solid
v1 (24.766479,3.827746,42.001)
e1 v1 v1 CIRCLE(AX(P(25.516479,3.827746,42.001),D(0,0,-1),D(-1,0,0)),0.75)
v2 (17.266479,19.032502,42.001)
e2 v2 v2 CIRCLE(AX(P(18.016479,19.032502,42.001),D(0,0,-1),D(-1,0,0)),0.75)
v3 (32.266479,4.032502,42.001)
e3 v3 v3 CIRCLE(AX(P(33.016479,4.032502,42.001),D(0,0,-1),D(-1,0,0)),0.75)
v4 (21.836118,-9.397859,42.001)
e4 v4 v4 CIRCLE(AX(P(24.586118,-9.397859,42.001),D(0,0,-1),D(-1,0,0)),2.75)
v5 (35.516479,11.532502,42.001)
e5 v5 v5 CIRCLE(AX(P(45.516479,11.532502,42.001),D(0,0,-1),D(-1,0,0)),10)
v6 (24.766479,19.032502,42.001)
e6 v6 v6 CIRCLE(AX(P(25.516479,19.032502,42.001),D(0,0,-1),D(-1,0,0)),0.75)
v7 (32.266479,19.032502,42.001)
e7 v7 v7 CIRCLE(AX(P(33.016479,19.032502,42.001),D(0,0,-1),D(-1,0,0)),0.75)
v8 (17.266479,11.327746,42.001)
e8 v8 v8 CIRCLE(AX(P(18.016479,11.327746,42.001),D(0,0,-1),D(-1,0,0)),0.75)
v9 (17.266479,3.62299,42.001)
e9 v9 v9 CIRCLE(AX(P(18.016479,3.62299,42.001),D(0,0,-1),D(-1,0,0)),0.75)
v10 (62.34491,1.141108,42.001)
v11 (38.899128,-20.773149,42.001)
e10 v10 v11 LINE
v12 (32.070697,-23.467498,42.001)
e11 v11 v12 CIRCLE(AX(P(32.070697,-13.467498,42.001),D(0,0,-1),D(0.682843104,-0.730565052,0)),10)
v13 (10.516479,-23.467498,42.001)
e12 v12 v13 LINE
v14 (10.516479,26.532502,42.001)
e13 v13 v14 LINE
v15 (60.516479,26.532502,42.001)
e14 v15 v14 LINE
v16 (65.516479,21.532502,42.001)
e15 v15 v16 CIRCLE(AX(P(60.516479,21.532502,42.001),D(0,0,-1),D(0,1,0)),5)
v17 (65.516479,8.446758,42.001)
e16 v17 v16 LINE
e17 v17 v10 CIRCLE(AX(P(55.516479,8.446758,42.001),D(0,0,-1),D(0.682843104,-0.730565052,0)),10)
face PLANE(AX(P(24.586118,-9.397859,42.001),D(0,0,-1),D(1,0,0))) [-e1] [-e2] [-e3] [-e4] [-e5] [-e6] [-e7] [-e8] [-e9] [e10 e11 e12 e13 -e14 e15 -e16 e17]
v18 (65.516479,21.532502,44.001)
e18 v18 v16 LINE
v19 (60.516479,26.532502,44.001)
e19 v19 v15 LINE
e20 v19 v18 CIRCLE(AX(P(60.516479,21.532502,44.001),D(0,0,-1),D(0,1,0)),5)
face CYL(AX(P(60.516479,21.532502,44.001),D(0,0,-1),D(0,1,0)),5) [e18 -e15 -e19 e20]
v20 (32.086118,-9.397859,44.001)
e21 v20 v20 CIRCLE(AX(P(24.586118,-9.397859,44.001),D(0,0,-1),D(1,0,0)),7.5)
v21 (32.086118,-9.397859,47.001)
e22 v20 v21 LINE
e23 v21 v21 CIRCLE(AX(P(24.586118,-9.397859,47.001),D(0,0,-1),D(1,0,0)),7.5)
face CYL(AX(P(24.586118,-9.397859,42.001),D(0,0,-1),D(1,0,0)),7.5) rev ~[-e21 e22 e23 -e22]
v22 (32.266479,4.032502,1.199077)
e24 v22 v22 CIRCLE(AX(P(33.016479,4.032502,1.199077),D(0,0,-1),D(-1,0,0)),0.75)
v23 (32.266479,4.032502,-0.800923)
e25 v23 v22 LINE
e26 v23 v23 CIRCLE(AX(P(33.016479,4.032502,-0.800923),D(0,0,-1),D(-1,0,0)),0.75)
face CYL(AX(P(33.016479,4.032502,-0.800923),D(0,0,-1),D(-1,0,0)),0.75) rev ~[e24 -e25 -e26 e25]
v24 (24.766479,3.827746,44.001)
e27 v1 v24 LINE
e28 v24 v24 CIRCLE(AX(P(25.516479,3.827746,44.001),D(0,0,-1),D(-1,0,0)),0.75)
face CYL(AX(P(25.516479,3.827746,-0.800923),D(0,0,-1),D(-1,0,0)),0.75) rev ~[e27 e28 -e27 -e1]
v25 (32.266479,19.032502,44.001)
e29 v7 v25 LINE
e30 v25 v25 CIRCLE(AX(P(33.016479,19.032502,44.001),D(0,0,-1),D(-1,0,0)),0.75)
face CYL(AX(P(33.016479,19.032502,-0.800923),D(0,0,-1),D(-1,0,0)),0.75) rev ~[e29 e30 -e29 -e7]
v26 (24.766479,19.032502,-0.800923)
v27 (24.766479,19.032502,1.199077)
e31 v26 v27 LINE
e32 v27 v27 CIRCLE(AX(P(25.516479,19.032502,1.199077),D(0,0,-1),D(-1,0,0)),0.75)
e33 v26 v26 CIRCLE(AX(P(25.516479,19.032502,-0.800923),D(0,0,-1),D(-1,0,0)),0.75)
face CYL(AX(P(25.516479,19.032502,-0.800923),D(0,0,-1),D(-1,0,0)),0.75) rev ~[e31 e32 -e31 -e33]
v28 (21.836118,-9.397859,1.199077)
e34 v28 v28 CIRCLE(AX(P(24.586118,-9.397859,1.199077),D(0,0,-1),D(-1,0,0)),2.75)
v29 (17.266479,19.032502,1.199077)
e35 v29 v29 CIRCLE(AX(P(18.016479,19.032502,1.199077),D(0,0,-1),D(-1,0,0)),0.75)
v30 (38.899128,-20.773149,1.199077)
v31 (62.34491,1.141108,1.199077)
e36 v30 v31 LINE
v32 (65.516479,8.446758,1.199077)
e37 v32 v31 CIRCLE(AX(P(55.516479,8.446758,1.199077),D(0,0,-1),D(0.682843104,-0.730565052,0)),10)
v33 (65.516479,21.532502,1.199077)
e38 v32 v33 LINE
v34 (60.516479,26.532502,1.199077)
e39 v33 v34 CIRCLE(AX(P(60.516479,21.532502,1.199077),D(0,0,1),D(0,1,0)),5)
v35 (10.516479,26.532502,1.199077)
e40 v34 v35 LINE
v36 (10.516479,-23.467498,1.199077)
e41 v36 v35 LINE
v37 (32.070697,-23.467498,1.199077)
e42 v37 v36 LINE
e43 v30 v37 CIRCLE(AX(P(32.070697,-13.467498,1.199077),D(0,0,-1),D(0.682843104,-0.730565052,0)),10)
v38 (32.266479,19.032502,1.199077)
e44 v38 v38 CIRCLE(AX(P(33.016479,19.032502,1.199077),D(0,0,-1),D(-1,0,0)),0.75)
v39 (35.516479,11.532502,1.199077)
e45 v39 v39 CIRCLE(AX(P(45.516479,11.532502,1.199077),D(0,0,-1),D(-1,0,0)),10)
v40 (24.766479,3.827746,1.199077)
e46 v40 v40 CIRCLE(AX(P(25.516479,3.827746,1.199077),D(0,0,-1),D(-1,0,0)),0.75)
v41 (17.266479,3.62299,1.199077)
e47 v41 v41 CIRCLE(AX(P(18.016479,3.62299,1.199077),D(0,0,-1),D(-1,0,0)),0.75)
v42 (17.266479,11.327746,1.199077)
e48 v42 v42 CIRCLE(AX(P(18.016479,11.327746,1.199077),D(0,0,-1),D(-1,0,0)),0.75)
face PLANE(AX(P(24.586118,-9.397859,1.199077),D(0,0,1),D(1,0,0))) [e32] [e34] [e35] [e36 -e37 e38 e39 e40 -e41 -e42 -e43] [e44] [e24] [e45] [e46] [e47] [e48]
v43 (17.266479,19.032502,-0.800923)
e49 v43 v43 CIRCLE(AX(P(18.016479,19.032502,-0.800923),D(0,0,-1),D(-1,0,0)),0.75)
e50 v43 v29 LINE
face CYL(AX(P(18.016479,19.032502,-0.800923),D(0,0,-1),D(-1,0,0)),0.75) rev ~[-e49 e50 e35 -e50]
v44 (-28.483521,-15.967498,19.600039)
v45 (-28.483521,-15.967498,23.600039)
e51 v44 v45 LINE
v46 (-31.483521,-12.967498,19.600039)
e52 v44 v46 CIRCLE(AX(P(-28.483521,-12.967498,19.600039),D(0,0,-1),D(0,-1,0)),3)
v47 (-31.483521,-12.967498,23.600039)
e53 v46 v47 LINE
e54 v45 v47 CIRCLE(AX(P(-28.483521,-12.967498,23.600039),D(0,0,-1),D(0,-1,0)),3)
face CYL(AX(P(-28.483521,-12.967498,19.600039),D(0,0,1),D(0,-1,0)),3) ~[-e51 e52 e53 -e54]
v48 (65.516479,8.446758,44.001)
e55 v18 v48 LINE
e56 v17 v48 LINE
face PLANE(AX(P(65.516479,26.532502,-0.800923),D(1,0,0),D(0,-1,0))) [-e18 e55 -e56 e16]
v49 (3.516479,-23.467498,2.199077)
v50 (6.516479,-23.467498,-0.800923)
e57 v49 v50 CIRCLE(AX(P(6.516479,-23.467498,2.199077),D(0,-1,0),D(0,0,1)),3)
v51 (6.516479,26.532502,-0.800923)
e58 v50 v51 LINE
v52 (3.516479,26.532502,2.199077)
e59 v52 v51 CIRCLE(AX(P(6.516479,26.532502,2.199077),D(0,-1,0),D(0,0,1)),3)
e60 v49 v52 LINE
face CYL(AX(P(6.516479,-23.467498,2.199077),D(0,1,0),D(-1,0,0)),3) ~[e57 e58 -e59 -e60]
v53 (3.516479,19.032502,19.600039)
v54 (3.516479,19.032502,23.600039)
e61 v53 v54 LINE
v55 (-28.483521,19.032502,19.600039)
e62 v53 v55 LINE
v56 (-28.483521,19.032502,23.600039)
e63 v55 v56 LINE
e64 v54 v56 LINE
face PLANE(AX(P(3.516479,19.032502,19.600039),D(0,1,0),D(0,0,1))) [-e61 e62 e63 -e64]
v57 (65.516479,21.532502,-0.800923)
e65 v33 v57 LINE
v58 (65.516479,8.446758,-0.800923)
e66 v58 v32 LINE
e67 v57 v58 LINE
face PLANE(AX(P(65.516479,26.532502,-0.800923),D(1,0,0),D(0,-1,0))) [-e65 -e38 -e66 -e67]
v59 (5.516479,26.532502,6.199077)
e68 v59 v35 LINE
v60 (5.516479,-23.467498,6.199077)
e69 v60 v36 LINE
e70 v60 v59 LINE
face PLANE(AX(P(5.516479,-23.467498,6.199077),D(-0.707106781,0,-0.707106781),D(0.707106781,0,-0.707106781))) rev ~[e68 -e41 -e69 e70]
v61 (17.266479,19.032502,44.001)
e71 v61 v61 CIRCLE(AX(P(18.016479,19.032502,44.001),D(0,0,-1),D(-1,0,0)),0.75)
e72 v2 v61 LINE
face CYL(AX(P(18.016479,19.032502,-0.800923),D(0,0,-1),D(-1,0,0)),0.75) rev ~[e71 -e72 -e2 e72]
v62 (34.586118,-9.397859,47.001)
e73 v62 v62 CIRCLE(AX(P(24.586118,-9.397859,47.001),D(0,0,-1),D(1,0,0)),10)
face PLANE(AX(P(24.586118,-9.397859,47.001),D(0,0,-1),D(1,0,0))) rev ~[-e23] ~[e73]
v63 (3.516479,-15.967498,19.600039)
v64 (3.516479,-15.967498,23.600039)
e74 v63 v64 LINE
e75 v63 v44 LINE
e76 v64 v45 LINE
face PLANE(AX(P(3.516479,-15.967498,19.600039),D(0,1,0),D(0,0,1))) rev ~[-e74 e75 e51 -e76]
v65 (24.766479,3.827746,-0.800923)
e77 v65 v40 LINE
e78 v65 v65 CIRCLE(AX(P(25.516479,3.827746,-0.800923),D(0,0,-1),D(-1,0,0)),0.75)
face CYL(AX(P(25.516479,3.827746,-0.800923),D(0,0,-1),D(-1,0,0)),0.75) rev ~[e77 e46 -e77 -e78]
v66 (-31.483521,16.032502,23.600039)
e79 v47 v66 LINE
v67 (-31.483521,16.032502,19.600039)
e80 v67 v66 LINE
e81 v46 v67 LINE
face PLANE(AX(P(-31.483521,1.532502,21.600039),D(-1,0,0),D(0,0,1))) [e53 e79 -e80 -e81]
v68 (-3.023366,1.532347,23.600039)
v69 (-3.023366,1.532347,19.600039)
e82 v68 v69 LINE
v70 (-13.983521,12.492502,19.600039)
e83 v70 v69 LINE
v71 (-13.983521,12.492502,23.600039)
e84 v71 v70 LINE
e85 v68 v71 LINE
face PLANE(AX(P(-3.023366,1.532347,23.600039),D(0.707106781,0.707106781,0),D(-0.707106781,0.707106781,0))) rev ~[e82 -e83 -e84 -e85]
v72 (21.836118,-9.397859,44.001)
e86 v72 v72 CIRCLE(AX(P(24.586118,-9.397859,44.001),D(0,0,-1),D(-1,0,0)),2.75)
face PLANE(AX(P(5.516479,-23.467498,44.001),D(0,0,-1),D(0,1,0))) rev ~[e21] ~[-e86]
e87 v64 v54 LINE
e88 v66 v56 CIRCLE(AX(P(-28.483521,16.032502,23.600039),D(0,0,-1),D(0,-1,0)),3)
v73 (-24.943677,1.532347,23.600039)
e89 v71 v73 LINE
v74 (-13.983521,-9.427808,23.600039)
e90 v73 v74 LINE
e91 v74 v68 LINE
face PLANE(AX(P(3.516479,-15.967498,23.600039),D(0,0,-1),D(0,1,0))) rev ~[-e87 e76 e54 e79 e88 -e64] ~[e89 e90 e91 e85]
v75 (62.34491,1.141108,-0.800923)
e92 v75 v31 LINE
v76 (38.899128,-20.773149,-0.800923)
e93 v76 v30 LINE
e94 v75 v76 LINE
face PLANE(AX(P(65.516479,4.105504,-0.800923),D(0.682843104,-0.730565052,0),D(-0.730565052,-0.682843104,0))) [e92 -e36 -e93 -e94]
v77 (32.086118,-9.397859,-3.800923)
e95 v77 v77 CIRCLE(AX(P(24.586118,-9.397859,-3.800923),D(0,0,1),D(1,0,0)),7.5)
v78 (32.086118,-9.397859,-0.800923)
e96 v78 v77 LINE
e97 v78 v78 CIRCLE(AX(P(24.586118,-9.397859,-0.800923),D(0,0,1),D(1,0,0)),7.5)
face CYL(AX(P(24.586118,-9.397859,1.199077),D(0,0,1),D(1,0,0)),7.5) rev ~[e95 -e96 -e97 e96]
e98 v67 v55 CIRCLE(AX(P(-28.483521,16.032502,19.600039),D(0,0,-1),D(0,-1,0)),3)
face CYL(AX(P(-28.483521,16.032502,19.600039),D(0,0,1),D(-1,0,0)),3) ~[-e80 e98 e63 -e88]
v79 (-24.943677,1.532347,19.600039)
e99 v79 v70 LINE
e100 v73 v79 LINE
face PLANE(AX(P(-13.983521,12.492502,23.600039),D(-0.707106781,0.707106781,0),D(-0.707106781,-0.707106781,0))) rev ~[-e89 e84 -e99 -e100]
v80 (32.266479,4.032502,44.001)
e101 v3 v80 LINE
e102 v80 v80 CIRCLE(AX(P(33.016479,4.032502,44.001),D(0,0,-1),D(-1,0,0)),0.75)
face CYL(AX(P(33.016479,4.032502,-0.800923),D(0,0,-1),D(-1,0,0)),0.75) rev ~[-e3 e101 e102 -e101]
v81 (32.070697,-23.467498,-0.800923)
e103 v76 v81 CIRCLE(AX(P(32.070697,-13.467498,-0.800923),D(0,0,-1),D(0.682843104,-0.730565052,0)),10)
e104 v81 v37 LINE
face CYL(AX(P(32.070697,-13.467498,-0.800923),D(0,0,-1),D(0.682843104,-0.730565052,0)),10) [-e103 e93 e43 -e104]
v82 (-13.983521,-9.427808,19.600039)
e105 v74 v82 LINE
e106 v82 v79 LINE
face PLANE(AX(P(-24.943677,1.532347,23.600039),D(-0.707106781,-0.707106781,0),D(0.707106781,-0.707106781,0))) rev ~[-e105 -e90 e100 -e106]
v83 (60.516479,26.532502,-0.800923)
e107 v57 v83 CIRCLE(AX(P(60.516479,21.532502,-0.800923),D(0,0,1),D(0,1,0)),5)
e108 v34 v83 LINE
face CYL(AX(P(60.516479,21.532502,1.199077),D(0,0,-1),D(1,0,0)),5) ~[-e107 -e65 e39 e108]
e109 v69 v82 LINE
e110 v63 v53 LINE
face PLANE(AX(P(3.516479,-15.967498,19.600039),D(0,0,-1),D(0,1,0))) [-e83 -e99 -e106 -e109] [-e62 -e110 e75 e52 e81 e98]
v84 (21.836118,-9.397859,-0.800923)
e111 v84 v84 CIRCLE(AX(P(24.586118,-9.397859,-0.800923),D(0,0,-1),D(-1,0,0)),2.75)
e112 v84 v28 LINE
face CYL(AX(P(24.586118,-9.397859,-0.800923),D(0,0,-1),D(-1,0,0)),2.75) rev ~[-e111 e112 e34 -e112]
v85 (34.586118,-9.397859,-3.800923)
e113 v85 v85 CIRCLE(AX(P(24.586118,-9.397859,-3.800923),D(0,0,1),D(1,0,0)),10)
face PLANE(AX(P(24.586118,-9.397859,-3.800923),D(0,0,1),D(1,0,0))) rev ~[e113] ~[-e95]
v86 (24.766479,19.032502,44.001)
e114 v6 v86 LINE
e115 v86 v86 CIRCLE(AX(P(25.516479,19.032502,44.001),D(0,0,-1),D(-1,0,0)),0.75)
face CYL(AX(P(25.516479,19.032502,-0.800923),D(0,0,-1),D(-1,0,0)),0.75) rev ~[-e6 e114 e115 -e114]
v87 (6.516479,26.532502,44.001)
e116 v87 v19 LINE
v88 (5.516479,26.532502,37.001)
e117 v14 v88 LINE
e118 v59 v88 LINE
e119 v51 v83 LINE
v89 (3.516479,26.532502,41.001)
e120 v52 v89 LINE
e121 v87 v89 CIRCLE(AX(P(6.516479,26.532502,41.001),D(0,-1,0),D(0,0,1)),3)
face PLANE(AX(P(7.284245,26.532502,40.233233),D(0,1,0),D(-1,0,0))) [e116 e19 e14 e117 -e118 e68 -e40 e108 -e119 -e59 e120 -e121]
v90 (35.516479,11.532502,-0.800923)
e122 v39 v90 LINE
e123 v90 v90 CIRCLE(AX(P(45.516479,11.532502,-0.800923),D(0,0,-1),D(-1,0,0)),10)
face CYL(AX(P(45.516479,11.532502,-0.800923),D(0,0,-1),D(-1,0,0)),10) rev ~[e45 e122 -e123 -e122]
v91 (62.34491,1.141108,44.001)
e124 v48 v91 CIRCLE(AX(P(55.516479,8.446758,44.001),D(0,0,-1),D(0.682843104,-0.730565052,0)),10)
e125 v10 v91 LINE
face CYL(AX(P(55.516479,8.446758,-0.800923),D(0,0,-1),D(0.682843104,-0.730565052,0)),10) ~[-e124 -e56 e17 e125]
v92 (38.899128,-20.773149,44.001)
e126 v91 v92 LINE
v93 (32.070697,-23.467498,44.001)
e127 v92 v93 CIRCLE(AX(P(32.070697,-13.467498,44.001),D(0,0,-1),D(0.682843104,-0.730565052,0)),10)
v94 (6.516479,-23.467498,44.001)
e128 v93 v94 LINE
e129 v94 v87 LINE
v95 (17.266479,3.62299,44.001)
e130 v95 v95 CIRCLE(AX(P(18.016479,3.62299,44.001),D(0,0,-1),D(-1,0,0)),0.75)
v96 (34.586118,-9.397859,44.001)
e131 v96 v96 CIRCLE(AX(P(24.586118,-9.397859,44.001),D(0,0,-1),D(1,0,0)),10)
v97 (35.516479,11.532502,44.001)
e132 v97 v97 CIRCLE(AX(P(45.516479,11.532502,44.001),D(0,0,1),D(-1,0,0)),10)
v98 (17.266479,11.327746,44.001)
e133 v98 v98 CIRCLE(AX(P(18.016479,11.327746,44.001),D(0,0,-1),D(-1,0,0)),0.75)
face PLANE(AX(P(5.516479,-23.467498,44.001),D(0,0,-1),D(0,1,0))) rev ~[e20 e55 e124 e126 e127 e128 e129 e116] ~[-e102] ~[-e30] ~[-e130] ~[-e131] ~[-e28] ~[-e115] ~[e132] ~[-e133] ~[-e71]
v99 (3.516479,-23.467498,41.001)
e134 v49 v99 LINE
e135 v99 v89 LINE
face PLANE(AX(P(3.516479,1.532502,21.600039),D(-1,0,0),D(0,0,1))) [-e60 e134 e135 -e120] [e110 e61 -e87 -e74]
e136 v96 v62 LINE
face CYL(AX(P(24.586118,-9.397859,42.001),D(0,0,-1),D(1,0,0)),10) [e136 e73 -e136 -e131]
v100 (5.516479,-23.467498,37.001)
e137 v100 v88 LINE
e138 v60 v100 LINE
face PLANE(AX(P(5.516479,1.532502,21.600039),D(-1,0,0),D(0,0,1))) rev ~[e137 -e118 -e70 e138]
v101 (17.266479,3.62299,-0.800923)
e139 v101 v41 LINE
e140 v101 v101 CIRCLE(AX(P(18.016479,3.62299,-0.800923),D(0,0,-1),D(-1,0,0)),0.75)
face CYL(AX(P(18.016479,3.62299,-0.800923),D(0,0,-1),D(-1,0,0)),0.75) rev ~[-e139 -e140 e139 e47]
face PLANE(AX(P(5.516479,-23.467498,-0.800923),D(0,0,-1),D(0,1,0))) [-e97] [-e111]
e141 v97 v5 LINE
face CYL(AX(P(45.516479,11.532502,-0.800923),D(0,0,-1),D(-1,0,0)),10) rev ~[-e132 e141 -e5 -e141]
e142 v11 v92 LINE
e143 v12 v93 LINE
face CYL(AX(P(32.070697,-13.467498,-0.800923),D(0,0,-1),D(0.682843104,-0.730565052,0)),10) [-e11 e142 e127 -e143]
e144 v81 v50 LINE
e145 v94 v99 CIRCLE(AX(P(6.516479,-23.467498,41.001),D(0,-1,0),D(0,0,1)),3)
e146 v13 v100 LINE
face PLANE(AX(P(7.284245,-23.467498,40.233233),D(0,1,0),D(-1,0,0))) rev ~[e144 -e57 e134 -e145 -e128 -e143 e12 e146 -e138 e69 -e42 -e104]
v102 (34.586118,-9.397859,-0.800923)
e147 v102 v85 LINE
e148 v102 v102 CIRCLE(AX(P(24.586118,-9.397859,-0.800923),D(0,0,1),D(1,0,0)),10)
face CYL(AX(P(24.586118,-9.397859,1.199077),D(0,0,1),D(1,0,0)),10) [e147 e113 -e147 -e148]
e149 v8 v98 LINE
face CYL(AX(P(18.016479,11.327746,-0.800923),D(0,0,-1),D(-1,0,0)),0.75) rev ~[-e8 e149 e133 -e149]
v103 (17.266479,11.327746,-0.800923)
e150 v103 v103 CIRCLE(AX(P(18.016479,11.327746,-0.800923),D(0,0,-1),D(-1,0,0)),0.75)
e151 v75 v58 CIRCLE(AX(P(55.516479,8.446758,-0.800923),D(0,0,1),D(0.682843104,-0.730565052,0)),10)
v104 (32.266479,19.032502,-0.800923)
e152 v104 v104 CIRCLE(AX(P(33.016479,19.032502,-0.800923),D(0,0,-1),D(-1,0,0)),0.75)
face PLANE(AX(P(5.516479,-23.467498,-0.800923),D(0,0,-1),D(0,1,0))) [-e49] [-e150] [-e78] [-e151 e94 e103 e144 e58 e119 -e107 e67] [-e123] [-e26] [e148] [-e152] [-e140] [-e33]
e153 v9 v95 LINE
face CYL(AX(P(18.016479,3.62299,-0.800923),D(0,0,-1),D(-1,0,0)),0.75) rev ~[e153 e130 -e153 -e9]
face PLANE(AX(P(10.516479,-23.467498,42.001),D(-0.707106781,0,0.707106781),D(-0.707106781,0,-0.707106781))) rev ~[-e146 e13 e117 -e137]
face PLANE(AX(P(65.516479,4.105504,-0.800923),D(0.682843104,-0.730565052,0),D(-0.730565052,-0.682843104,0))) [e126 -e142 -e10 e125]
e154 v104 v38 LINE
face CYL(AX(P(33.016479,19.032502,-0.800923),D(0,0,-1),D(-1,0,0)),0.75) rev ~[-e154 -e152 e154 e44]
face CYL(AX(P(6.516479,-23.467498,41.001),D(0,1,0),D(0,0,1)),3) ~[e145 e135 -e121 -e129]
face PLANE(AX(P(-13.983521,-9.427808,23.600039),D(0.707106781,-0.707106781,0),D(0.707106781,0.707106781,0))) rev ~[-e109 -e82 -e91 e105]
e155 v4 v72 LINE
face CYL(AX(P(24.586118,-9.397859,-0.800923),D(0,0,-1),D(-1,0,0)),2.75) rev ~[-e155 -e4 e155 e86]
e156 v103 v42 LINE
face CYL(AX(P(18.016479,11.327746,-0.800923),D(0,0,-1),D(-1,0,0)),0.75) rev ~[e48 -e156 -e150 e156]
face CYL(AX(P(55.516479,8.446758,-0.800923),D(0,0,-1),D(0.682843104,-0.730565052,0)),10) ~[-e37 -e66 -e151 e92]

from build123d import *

# Parameters (mm, degrees)
SKETCH_3_R               = 3
EXTRUDE_6_DEPTH          = 0.001
EXTRUDE_6_2_DEPTH        = 0.001
EXTRUDE_6_3_DEPTH        = 0.001
EXTRUDE_6_4_DEPTH        = 0.001
CUT_EXTRUDE_2_DEPTH      = 67.213034483
CUT_EXTRUDE_2_DEPTH_BACK = 67.213034483
SKETCH_11_R              = 2.25
EXTRUDE_7_DEPTH          = 2
EXTRUDE_7_DEPTH_BACK     = 0.801922547
SKETCH_14_R              = 10
CUT_EXTRUDE_3_DEPTH      = 3
SKETCH_12_4_R            = 10
EXTRUDE_10_DEPTH         = 44
SKETCH_20_W              = 40.801922547
SKETCH_20_H              = 50
CUT_EXTRUDE_6_DEPTH      = 60
SKETCH_21_W              = 44.801922547
SKETCH_21_H              = 50
EXTRUDE_11_DEPTH         = 2
SKETCH_23_W              = 4
SKETCH_23_H              = 35
EXTRUDE_12_DEPTH         = 35
CUT_EXTRUDE_7_DEPTH      = 75.778269065
SKETCH_25_R              = 0.75
CUT_EXTRUDE_8_DEPTH      = 84.687483396
FILLET_2_R               = 5
FILLET_3_R               = 5
FILLET_5_R               = 3
FILLET_6_R               = 3
FILLET_7_R               = 3
FILLET_8_R               = 3
SKETCH_26_R              = 2.75
CUT_EXTRUDE_9_DEPTH      = 100
SKETCH_27_R              = 10
SKETCH_27_R_2            = 7.5
EXTRUDE_13_DEPTH         = 5
SKETCH_28_R              = 10
SKETCH_28_R_2            = 7.5
EXTRUDE_14_DEPTH         = 5
CUT_EXTRUDE_10_DEPTH     = 86.331157337
CUT_EXTRUDE_11_DEPTH     = 86.331157337
CUT_EXTRUDE_12_DEPTH     = 86.331157337
EXTRUDE_15_DEPTH         = 50


with BuildPart() as part:
    # 草图3 → 凸台-拉伸6 (new body)
    with BuildSketch(Plane.XY):
        with Locations((60.266478541, 16.532501821)):
            Circle(SKETCH_3_R)
    extrude(amount=EXTRUDE_6_DEPTH)


with BuildPart() as body_2:
    # 草图3 → Extrude 6 2 (new body)
    with BuildSketch(Plane.XY):
        with Locations((60.266478541, 6.532501821)):
            Circle(SKETCH_3_R)
    extrude(amount=EXTRUDE_6_2_DEPTH)


with BuildPart() as body_3:
    # 草图3 → Extrude 6 3 (new body)
    with BuildSketch(Plane.XY):
        with Locations((10.766478541, 6.532501821)):
            Circle(SKETCH_3_R)
    extrude(amount=EXTRUDE_6_3_DEPTH)


with BuildPart() as body_4:
    # 草图3 → Extrude 6 4 (new body)
    with BuildSketch(Plane.XY):
        with Locations((10.766478541, 16.532501821)):
            Circle(SKETCH_3_R)
    extrude(amount=EXTRUDE_6_4_DEPTH)


with BuildPart() as cut_extrude_2_tool:
    # 草图11 → 切除-拉伸2 (new, two sides: drawn at the far end of the back side and taken through both)
    with BuildSketch(Plane.XY.offset(0.001).offset(-CUT_EXTRUDE_2_DEPTH_BACK)):
        with Locations((10.766478541, 16.532501821)):
            Circle(SKETCH_11_R)
        with Locations((10.766478541, 6.532501821)):
            Circle(SKETCH_11_R)
        with Locations((60.266478541, 16.532501821)):
            Circle(SKETCH_11_R)
        with Locations((60.266478541, 6.532501821)):
            Circle(SKETCH_11_R)
    extrude(amount=CUT_EXTRUDE_2_DEPTH + CUT_EXTRUDE_2_DEPTH_BACK)


with BuildPart() as part_1:
    add(part.part)

    # 切除-拉伸2: cut by cut_extrude_2_tool
    add(cut_extrude_2_tool.part, mode=Mode.SUBTRACT)



with BuildPart() as body_2_1:
    add(body_2.part)

    # 切除-拉伸2: cut by cut_extrude_2_tool
    add(cut_extrude_2_tool.part, mode=Mode.SUBTRACT)


with BuildPart() as body_3_1:
    add(body_3.part)

    # 切除-拉伸2: cut by cut_extrude_2_tool
    add(cut_extrude_2_tool.part, mode=Mode.SUBTRACT)


with BuildPart() as body_4_1:
    add(body_4.part)

    # 切除-拉伸2: cut by cut_extrude_2_tool
    add(cut_extrude_2_tool.part, mode=Mode.SUBTRACT)


with BuildPart() as body_5:
    # 草图12 → 凸台-拉伸7 (new, two sides: drawn at the far end of the back side and taken through both)
    with BuildSketch(Plane.XY.offset(0.001).offset(-EXTRUDE_7_DEPTH_BACK)):
        Polygon((5.516478541, 26.532501821), (65.516478541, 26.532501821), (65.516478541, -23.467498179), (5.516478541, -23.467498179), (5.516478541, 1.532501821), align=None)
    extrude(amount=EXTRUDE_7_DEPTH + EXTRUDE_7_DEPTH_BACK)

    # 草图14 → 切除-拉伸3 (cut)
    with BuildSketch(Plane(origin=(0, 0, -0.800922547), x_dir=(-1, 0, 0), z_dir=(0, 0, -1))):
        with Locations((-45.516478541, 11.532501821)):
            Circle(SKETCH_14_R)
    extrude(amount=-CUT_EXTRUDE_3_DEPTH, mode=Mode.SUBTRACT)


with BuildPart() as part_2:
    add(part_1.part)

    add(body_2_1.part)  # 凸台-拉伸10 merges body 2

    add(body_3_1.part)  # 凸台-拉伸10 merges body 3

    add(body_4_1.part)  # 凸台-拉伸10 merges body 4

    add(body_5.part)  # 凸台-拉伸10 merges body 5
    # 草图12<4> → 凸台-拉伸10 (add)
    with BuildSketch(Plane.XY.offset(0.001)):
        Polygon((5.516478541, 26.532501821), (65.516478541, 26.532501821), (65.516478541, -23.467498179), (5.516478541, -23.467498179), (5.516478541, 1.532501821), align=None)
        with Locations((45.516478541, 11.532501821)):
            Circle(SKETCH_12_4_R, mode=Mode.SUBTRACT)
    extrude(amount=EXTRUDE_10_DEPTH)

    # 草图20 → 切除-拉伸6 (cut)
    with BuildSketch(Plane(origin=(65.516478541, 0, 0), x_dir=(0, 0, -1), z_dir=(1, 0, 0))):
        with Locations((-21.600038727, 1.532501821)):
            Rectangle(SKETCH_20_W, SKETCH_20_H)
    extrude(amount=-CUT_EXTRUDE_6_DEPTH, mode=Mode.SUBTRACT)


with BuildPart() as cut_extrude_6_piece_1:
    # of the separate pieces the step leaves, piece 1, a body of its own (cut_extrude_6_pieces)
    add(part_2.part.solids().sort_by_distance((5.516478541, 26.532501821, 42.001))[0])



with BuildPart() as cut_extrude_6_piece_2:
    # of the separate pieces the step leaves, piece 2, a body of its own (cut_extrude_6_pieces)
    add(part_2.part.solids().sort_by_distance((5.516478541, 26.532501821, -0.800922547))[0])


with BuildPart() as cut_extrude_6_piece_1_1:
    add(cut_extrude_6_piece_1.part)

    add(cut_extrude_6_piece_2.part)  # 凸台-拉伸11 merges 切除-拉伸6 piece 2
    # 草图21 → 凸台-拉伸11 (add)
    with BuildSketch(Plane.ZY.offset(-5.516478541)):
        with Locations((21.600038727, 1.532501821)):
            Rectangle(SKETCH_21_W, SKETCH_21_H)
    extrude(amount=EXTRUDE_11_DEPTH)

    # 草图23 → 凸台-拉伸12 (add)
    with BuildSketch(Plane.ZY.offset(-3.516478541)):
        with Locations((21.600038726, 1.532501821)):
            Rectangle(SKETCH_23_W, SKETCH_23_H)
    extrude(amount=EXTRUDE_12_DEPTH)

    # 草图24 → 切除-拉伸7 (cut, through all)
    with BuildSketch(Plane.XY.offset(23.600038726)):
        Polygon((-13.983521459, 12.492501821), (-24.943676567, 1.532346713), (-13.983521459, -9.427808395), (-3.023366351, 1.532346713), align=None)
    extrude(amount=-CUT_EXTRUDE_7_DEPTH, mode=Mode.SUBTRACT)

    # 草图25 → 切除-拉伸8 (cut, through all)
    with BuildSketch(Plane(origin=(0, 0, -0.800922547), x_dir=(-1, 0, 0), z_dir=(0, 0, -1))):
        with Locations((-33.016478541, 19.032501821)):
            Circle(SKETCH_25_R)
        with Locations((-33.016478541, 4.032501821)):
            Circle(SKETCH_25_R)
        with Locations((-18.016478541, 19.032501821)):
            Circle(SKETCH_25_R)
        with Locations((-18.016478541, 3.622989742)):
            Circle(SKETCH_25_R)
        with Locations((-25.516478541, 19.032501821)):
            Circle(SKETCH_25_R)
        with Locations((-25.516478541, 3.827745781)):
            Circle(SKETCH_25_R)
        with Locations((-18.016478541, 11.327745781)):
            Circle(SKETCH_25_R)
    extrude(amount=-CUT_EXTRUDE_8_DEPTH, mode=Mode.SUBTRACT)

    # 圆角2
    fillet_2_edges = [cut_extrude_6_piece_1_1.edges().sort_by_distance(p)[0] for p in [
        (65.516478541, 26.532501821, 0.199077453),
    ]]
    fillet(fillet_2_edges, radius=FILLET_2_R)

    # 圆角3
    fillet_3_edges = [cut_extrude_6_piece_1_1.edges().sort_by_distance(p)[0] for p in [
        (65.516478541, 26.532501821, 43.001),
    ]]
    fillet(fillet_3_edges, radius=FILLET_3_R)

    # 圆角5
    fillet_5_edges = [cut_extrude_6_piece_1_1.edges().sort_by_distance(p)[0] for p in [
        (3.516478541, 1.532501821, 44.001),
    ]]
    fillet(fillet_5_edges, radius=FILLET_5_R)

    # 圆角6
    fillet_6_edges = [cut_extrude_6_piece_1_1.edges().sort_by_distance(p)[0] for p in [
        (3.516478541, 1.532501821, -0.800922547),
    ]]
    fillet(fillet_6_edges, radius=FILLET_6_R)

    # 圆角7
    fillet_7_edges = [cut_extrude_6_piece_1_1.edges().sort_by_distance(p)[0] for p in [
        (-31.483521459, -15.967498179, 21.600038726),
    ]]
    fillet(fillet_7_edges, radius=FILLET_7_R)

    # 圆角8
    fillet_8_edges = [cut_extrude_6_piece_1_1.edges().sort_by_distance(p)[0] for p in [
        (-31.483521459, 19.032501821, 21.600038726),
    ]]
    fillet(fillet_8_edges, radius=FILLET_8_R)

    # 草图26 → 切除-拉伸9 (cut)
    with BuildSketch(Plane(origin=(0, 0, -0.800922547), x_dir=(-1, 0, 0), z_dir=(0, 0, -1))):
        with Locations((-24.586117818, -9.397858902)):
            Circle(SKETCH_26_R)
    extrude(amount=-CUT_EXTRUDE_9_DEPTH, mode=Mode.SUBTRACT)

    # 草图27 → 凸台-拉伸13 (add)
    with BuildSketch(Plane.XY.offset(1.199077453)):
        with Locations((24.586117818, -9.397858902)):
            Circle(SKETCH_27_R)
        with Locations((24.586117818, -9.397858902)):
            Circle(SKETCH_27_R_2, mode=Mode.SUBTRACT)
    extrude(amount=-EXTRUDE_13_DEPTH)

    # 草图28 → 凸台-拉伸14 (add)
    with BuildSketch(Plane(origin=(0, 0, 42.001), x_dir=(-1, 0, 0), z_dir=(0, 0, -1))):
        with Locations((-24.586117818, -9.397858902)):
            Circle(SKETCH_28_R)
        with Locations((-24.586117818, -9.397858902)):
            Circle(SKETCH_28_R_2, mode=Mode.SUBTRACT)
    extrude(amount=-EXTRUDE_14_DEPTH)

    # 草图29 → 切除-拉伸10 (cut, through all)
    with BuildSketch(Plane(origin=(0, 0, -0.800922547), x_dir=(-1, 0, 0), z_dir=(0, 0, -1))):
        Polygon((-65.516478541, 4.105503733), (-36.016478541, -23.467498179), (-65.516478541, -23.467498179), align=None)
    extrude(amount=-CUT_EXTRUDE_10_DEPTH, mode=Mode.SUBTRACT)

    # 草图31 → 切除-拉伸11 (cut, through all)
    with BuildSketch(Plane(origin=(0, 0, -0.800922547), x_dir=(-1, 0, 0), z_dir=(0, 0, -1))):
        with BuildLine():
            Line((-36.016478541, -23.467498179), (-38.899128386, -20.773148698))
            ThreePointArc((-38.899128386, -20.773148698), (-35.741085253, -22.769554543), (-32.070697344, -23.467498179))
            Line((-32.070697344, -23.467498179), (-36.016478541, -23.467498179))
        make_face()
    extrude(amount=-CUT_EXTRUDE_11_DEPTH, mode=Mode.SUBTRACT)

    # 草图32 → 切除-拉伸12 (cut, through all)
    with BuildSketch(Plane(origin=(0, 0, -0.800922547), x_dir=(-1, 0, 0), z_dir=(0, 0, -1))):
        with BuildLine():
            Line((-65.516478541, 8.446758423), (-65.516478541, 4.105503733))
            Line((-65.516478541, 4.105503733), (-62.344909583, 1.141107904))
            ThreePointArc((-62.344909583, 1.141107904), (-64.689381855, 4.46456747), (-65.516478541, 8.446758423))
        make_face()
    extrude(amount=-CUT_EXTRUDE_12_DEPTH, mode=Mode.SUBTRACT)

    # 草图35 → 凸台-拉伸15 (add)
    with BuildSketch(Plane.XZ.offset(23.467498179)):
        Polygon((5.516478541, 42.001), (10.516478541, 42.001), (5.516478541, 37.001), align=None)
        Polygon((5.516478541, 1.199077453), (5.516478541, 6.199077453), (10.516478541, 1.199077453), align=None)
    extrude(amount=-EXTRUDE_15_DEPTH)


solid = cut_extrude_6_piece_1_1.part
